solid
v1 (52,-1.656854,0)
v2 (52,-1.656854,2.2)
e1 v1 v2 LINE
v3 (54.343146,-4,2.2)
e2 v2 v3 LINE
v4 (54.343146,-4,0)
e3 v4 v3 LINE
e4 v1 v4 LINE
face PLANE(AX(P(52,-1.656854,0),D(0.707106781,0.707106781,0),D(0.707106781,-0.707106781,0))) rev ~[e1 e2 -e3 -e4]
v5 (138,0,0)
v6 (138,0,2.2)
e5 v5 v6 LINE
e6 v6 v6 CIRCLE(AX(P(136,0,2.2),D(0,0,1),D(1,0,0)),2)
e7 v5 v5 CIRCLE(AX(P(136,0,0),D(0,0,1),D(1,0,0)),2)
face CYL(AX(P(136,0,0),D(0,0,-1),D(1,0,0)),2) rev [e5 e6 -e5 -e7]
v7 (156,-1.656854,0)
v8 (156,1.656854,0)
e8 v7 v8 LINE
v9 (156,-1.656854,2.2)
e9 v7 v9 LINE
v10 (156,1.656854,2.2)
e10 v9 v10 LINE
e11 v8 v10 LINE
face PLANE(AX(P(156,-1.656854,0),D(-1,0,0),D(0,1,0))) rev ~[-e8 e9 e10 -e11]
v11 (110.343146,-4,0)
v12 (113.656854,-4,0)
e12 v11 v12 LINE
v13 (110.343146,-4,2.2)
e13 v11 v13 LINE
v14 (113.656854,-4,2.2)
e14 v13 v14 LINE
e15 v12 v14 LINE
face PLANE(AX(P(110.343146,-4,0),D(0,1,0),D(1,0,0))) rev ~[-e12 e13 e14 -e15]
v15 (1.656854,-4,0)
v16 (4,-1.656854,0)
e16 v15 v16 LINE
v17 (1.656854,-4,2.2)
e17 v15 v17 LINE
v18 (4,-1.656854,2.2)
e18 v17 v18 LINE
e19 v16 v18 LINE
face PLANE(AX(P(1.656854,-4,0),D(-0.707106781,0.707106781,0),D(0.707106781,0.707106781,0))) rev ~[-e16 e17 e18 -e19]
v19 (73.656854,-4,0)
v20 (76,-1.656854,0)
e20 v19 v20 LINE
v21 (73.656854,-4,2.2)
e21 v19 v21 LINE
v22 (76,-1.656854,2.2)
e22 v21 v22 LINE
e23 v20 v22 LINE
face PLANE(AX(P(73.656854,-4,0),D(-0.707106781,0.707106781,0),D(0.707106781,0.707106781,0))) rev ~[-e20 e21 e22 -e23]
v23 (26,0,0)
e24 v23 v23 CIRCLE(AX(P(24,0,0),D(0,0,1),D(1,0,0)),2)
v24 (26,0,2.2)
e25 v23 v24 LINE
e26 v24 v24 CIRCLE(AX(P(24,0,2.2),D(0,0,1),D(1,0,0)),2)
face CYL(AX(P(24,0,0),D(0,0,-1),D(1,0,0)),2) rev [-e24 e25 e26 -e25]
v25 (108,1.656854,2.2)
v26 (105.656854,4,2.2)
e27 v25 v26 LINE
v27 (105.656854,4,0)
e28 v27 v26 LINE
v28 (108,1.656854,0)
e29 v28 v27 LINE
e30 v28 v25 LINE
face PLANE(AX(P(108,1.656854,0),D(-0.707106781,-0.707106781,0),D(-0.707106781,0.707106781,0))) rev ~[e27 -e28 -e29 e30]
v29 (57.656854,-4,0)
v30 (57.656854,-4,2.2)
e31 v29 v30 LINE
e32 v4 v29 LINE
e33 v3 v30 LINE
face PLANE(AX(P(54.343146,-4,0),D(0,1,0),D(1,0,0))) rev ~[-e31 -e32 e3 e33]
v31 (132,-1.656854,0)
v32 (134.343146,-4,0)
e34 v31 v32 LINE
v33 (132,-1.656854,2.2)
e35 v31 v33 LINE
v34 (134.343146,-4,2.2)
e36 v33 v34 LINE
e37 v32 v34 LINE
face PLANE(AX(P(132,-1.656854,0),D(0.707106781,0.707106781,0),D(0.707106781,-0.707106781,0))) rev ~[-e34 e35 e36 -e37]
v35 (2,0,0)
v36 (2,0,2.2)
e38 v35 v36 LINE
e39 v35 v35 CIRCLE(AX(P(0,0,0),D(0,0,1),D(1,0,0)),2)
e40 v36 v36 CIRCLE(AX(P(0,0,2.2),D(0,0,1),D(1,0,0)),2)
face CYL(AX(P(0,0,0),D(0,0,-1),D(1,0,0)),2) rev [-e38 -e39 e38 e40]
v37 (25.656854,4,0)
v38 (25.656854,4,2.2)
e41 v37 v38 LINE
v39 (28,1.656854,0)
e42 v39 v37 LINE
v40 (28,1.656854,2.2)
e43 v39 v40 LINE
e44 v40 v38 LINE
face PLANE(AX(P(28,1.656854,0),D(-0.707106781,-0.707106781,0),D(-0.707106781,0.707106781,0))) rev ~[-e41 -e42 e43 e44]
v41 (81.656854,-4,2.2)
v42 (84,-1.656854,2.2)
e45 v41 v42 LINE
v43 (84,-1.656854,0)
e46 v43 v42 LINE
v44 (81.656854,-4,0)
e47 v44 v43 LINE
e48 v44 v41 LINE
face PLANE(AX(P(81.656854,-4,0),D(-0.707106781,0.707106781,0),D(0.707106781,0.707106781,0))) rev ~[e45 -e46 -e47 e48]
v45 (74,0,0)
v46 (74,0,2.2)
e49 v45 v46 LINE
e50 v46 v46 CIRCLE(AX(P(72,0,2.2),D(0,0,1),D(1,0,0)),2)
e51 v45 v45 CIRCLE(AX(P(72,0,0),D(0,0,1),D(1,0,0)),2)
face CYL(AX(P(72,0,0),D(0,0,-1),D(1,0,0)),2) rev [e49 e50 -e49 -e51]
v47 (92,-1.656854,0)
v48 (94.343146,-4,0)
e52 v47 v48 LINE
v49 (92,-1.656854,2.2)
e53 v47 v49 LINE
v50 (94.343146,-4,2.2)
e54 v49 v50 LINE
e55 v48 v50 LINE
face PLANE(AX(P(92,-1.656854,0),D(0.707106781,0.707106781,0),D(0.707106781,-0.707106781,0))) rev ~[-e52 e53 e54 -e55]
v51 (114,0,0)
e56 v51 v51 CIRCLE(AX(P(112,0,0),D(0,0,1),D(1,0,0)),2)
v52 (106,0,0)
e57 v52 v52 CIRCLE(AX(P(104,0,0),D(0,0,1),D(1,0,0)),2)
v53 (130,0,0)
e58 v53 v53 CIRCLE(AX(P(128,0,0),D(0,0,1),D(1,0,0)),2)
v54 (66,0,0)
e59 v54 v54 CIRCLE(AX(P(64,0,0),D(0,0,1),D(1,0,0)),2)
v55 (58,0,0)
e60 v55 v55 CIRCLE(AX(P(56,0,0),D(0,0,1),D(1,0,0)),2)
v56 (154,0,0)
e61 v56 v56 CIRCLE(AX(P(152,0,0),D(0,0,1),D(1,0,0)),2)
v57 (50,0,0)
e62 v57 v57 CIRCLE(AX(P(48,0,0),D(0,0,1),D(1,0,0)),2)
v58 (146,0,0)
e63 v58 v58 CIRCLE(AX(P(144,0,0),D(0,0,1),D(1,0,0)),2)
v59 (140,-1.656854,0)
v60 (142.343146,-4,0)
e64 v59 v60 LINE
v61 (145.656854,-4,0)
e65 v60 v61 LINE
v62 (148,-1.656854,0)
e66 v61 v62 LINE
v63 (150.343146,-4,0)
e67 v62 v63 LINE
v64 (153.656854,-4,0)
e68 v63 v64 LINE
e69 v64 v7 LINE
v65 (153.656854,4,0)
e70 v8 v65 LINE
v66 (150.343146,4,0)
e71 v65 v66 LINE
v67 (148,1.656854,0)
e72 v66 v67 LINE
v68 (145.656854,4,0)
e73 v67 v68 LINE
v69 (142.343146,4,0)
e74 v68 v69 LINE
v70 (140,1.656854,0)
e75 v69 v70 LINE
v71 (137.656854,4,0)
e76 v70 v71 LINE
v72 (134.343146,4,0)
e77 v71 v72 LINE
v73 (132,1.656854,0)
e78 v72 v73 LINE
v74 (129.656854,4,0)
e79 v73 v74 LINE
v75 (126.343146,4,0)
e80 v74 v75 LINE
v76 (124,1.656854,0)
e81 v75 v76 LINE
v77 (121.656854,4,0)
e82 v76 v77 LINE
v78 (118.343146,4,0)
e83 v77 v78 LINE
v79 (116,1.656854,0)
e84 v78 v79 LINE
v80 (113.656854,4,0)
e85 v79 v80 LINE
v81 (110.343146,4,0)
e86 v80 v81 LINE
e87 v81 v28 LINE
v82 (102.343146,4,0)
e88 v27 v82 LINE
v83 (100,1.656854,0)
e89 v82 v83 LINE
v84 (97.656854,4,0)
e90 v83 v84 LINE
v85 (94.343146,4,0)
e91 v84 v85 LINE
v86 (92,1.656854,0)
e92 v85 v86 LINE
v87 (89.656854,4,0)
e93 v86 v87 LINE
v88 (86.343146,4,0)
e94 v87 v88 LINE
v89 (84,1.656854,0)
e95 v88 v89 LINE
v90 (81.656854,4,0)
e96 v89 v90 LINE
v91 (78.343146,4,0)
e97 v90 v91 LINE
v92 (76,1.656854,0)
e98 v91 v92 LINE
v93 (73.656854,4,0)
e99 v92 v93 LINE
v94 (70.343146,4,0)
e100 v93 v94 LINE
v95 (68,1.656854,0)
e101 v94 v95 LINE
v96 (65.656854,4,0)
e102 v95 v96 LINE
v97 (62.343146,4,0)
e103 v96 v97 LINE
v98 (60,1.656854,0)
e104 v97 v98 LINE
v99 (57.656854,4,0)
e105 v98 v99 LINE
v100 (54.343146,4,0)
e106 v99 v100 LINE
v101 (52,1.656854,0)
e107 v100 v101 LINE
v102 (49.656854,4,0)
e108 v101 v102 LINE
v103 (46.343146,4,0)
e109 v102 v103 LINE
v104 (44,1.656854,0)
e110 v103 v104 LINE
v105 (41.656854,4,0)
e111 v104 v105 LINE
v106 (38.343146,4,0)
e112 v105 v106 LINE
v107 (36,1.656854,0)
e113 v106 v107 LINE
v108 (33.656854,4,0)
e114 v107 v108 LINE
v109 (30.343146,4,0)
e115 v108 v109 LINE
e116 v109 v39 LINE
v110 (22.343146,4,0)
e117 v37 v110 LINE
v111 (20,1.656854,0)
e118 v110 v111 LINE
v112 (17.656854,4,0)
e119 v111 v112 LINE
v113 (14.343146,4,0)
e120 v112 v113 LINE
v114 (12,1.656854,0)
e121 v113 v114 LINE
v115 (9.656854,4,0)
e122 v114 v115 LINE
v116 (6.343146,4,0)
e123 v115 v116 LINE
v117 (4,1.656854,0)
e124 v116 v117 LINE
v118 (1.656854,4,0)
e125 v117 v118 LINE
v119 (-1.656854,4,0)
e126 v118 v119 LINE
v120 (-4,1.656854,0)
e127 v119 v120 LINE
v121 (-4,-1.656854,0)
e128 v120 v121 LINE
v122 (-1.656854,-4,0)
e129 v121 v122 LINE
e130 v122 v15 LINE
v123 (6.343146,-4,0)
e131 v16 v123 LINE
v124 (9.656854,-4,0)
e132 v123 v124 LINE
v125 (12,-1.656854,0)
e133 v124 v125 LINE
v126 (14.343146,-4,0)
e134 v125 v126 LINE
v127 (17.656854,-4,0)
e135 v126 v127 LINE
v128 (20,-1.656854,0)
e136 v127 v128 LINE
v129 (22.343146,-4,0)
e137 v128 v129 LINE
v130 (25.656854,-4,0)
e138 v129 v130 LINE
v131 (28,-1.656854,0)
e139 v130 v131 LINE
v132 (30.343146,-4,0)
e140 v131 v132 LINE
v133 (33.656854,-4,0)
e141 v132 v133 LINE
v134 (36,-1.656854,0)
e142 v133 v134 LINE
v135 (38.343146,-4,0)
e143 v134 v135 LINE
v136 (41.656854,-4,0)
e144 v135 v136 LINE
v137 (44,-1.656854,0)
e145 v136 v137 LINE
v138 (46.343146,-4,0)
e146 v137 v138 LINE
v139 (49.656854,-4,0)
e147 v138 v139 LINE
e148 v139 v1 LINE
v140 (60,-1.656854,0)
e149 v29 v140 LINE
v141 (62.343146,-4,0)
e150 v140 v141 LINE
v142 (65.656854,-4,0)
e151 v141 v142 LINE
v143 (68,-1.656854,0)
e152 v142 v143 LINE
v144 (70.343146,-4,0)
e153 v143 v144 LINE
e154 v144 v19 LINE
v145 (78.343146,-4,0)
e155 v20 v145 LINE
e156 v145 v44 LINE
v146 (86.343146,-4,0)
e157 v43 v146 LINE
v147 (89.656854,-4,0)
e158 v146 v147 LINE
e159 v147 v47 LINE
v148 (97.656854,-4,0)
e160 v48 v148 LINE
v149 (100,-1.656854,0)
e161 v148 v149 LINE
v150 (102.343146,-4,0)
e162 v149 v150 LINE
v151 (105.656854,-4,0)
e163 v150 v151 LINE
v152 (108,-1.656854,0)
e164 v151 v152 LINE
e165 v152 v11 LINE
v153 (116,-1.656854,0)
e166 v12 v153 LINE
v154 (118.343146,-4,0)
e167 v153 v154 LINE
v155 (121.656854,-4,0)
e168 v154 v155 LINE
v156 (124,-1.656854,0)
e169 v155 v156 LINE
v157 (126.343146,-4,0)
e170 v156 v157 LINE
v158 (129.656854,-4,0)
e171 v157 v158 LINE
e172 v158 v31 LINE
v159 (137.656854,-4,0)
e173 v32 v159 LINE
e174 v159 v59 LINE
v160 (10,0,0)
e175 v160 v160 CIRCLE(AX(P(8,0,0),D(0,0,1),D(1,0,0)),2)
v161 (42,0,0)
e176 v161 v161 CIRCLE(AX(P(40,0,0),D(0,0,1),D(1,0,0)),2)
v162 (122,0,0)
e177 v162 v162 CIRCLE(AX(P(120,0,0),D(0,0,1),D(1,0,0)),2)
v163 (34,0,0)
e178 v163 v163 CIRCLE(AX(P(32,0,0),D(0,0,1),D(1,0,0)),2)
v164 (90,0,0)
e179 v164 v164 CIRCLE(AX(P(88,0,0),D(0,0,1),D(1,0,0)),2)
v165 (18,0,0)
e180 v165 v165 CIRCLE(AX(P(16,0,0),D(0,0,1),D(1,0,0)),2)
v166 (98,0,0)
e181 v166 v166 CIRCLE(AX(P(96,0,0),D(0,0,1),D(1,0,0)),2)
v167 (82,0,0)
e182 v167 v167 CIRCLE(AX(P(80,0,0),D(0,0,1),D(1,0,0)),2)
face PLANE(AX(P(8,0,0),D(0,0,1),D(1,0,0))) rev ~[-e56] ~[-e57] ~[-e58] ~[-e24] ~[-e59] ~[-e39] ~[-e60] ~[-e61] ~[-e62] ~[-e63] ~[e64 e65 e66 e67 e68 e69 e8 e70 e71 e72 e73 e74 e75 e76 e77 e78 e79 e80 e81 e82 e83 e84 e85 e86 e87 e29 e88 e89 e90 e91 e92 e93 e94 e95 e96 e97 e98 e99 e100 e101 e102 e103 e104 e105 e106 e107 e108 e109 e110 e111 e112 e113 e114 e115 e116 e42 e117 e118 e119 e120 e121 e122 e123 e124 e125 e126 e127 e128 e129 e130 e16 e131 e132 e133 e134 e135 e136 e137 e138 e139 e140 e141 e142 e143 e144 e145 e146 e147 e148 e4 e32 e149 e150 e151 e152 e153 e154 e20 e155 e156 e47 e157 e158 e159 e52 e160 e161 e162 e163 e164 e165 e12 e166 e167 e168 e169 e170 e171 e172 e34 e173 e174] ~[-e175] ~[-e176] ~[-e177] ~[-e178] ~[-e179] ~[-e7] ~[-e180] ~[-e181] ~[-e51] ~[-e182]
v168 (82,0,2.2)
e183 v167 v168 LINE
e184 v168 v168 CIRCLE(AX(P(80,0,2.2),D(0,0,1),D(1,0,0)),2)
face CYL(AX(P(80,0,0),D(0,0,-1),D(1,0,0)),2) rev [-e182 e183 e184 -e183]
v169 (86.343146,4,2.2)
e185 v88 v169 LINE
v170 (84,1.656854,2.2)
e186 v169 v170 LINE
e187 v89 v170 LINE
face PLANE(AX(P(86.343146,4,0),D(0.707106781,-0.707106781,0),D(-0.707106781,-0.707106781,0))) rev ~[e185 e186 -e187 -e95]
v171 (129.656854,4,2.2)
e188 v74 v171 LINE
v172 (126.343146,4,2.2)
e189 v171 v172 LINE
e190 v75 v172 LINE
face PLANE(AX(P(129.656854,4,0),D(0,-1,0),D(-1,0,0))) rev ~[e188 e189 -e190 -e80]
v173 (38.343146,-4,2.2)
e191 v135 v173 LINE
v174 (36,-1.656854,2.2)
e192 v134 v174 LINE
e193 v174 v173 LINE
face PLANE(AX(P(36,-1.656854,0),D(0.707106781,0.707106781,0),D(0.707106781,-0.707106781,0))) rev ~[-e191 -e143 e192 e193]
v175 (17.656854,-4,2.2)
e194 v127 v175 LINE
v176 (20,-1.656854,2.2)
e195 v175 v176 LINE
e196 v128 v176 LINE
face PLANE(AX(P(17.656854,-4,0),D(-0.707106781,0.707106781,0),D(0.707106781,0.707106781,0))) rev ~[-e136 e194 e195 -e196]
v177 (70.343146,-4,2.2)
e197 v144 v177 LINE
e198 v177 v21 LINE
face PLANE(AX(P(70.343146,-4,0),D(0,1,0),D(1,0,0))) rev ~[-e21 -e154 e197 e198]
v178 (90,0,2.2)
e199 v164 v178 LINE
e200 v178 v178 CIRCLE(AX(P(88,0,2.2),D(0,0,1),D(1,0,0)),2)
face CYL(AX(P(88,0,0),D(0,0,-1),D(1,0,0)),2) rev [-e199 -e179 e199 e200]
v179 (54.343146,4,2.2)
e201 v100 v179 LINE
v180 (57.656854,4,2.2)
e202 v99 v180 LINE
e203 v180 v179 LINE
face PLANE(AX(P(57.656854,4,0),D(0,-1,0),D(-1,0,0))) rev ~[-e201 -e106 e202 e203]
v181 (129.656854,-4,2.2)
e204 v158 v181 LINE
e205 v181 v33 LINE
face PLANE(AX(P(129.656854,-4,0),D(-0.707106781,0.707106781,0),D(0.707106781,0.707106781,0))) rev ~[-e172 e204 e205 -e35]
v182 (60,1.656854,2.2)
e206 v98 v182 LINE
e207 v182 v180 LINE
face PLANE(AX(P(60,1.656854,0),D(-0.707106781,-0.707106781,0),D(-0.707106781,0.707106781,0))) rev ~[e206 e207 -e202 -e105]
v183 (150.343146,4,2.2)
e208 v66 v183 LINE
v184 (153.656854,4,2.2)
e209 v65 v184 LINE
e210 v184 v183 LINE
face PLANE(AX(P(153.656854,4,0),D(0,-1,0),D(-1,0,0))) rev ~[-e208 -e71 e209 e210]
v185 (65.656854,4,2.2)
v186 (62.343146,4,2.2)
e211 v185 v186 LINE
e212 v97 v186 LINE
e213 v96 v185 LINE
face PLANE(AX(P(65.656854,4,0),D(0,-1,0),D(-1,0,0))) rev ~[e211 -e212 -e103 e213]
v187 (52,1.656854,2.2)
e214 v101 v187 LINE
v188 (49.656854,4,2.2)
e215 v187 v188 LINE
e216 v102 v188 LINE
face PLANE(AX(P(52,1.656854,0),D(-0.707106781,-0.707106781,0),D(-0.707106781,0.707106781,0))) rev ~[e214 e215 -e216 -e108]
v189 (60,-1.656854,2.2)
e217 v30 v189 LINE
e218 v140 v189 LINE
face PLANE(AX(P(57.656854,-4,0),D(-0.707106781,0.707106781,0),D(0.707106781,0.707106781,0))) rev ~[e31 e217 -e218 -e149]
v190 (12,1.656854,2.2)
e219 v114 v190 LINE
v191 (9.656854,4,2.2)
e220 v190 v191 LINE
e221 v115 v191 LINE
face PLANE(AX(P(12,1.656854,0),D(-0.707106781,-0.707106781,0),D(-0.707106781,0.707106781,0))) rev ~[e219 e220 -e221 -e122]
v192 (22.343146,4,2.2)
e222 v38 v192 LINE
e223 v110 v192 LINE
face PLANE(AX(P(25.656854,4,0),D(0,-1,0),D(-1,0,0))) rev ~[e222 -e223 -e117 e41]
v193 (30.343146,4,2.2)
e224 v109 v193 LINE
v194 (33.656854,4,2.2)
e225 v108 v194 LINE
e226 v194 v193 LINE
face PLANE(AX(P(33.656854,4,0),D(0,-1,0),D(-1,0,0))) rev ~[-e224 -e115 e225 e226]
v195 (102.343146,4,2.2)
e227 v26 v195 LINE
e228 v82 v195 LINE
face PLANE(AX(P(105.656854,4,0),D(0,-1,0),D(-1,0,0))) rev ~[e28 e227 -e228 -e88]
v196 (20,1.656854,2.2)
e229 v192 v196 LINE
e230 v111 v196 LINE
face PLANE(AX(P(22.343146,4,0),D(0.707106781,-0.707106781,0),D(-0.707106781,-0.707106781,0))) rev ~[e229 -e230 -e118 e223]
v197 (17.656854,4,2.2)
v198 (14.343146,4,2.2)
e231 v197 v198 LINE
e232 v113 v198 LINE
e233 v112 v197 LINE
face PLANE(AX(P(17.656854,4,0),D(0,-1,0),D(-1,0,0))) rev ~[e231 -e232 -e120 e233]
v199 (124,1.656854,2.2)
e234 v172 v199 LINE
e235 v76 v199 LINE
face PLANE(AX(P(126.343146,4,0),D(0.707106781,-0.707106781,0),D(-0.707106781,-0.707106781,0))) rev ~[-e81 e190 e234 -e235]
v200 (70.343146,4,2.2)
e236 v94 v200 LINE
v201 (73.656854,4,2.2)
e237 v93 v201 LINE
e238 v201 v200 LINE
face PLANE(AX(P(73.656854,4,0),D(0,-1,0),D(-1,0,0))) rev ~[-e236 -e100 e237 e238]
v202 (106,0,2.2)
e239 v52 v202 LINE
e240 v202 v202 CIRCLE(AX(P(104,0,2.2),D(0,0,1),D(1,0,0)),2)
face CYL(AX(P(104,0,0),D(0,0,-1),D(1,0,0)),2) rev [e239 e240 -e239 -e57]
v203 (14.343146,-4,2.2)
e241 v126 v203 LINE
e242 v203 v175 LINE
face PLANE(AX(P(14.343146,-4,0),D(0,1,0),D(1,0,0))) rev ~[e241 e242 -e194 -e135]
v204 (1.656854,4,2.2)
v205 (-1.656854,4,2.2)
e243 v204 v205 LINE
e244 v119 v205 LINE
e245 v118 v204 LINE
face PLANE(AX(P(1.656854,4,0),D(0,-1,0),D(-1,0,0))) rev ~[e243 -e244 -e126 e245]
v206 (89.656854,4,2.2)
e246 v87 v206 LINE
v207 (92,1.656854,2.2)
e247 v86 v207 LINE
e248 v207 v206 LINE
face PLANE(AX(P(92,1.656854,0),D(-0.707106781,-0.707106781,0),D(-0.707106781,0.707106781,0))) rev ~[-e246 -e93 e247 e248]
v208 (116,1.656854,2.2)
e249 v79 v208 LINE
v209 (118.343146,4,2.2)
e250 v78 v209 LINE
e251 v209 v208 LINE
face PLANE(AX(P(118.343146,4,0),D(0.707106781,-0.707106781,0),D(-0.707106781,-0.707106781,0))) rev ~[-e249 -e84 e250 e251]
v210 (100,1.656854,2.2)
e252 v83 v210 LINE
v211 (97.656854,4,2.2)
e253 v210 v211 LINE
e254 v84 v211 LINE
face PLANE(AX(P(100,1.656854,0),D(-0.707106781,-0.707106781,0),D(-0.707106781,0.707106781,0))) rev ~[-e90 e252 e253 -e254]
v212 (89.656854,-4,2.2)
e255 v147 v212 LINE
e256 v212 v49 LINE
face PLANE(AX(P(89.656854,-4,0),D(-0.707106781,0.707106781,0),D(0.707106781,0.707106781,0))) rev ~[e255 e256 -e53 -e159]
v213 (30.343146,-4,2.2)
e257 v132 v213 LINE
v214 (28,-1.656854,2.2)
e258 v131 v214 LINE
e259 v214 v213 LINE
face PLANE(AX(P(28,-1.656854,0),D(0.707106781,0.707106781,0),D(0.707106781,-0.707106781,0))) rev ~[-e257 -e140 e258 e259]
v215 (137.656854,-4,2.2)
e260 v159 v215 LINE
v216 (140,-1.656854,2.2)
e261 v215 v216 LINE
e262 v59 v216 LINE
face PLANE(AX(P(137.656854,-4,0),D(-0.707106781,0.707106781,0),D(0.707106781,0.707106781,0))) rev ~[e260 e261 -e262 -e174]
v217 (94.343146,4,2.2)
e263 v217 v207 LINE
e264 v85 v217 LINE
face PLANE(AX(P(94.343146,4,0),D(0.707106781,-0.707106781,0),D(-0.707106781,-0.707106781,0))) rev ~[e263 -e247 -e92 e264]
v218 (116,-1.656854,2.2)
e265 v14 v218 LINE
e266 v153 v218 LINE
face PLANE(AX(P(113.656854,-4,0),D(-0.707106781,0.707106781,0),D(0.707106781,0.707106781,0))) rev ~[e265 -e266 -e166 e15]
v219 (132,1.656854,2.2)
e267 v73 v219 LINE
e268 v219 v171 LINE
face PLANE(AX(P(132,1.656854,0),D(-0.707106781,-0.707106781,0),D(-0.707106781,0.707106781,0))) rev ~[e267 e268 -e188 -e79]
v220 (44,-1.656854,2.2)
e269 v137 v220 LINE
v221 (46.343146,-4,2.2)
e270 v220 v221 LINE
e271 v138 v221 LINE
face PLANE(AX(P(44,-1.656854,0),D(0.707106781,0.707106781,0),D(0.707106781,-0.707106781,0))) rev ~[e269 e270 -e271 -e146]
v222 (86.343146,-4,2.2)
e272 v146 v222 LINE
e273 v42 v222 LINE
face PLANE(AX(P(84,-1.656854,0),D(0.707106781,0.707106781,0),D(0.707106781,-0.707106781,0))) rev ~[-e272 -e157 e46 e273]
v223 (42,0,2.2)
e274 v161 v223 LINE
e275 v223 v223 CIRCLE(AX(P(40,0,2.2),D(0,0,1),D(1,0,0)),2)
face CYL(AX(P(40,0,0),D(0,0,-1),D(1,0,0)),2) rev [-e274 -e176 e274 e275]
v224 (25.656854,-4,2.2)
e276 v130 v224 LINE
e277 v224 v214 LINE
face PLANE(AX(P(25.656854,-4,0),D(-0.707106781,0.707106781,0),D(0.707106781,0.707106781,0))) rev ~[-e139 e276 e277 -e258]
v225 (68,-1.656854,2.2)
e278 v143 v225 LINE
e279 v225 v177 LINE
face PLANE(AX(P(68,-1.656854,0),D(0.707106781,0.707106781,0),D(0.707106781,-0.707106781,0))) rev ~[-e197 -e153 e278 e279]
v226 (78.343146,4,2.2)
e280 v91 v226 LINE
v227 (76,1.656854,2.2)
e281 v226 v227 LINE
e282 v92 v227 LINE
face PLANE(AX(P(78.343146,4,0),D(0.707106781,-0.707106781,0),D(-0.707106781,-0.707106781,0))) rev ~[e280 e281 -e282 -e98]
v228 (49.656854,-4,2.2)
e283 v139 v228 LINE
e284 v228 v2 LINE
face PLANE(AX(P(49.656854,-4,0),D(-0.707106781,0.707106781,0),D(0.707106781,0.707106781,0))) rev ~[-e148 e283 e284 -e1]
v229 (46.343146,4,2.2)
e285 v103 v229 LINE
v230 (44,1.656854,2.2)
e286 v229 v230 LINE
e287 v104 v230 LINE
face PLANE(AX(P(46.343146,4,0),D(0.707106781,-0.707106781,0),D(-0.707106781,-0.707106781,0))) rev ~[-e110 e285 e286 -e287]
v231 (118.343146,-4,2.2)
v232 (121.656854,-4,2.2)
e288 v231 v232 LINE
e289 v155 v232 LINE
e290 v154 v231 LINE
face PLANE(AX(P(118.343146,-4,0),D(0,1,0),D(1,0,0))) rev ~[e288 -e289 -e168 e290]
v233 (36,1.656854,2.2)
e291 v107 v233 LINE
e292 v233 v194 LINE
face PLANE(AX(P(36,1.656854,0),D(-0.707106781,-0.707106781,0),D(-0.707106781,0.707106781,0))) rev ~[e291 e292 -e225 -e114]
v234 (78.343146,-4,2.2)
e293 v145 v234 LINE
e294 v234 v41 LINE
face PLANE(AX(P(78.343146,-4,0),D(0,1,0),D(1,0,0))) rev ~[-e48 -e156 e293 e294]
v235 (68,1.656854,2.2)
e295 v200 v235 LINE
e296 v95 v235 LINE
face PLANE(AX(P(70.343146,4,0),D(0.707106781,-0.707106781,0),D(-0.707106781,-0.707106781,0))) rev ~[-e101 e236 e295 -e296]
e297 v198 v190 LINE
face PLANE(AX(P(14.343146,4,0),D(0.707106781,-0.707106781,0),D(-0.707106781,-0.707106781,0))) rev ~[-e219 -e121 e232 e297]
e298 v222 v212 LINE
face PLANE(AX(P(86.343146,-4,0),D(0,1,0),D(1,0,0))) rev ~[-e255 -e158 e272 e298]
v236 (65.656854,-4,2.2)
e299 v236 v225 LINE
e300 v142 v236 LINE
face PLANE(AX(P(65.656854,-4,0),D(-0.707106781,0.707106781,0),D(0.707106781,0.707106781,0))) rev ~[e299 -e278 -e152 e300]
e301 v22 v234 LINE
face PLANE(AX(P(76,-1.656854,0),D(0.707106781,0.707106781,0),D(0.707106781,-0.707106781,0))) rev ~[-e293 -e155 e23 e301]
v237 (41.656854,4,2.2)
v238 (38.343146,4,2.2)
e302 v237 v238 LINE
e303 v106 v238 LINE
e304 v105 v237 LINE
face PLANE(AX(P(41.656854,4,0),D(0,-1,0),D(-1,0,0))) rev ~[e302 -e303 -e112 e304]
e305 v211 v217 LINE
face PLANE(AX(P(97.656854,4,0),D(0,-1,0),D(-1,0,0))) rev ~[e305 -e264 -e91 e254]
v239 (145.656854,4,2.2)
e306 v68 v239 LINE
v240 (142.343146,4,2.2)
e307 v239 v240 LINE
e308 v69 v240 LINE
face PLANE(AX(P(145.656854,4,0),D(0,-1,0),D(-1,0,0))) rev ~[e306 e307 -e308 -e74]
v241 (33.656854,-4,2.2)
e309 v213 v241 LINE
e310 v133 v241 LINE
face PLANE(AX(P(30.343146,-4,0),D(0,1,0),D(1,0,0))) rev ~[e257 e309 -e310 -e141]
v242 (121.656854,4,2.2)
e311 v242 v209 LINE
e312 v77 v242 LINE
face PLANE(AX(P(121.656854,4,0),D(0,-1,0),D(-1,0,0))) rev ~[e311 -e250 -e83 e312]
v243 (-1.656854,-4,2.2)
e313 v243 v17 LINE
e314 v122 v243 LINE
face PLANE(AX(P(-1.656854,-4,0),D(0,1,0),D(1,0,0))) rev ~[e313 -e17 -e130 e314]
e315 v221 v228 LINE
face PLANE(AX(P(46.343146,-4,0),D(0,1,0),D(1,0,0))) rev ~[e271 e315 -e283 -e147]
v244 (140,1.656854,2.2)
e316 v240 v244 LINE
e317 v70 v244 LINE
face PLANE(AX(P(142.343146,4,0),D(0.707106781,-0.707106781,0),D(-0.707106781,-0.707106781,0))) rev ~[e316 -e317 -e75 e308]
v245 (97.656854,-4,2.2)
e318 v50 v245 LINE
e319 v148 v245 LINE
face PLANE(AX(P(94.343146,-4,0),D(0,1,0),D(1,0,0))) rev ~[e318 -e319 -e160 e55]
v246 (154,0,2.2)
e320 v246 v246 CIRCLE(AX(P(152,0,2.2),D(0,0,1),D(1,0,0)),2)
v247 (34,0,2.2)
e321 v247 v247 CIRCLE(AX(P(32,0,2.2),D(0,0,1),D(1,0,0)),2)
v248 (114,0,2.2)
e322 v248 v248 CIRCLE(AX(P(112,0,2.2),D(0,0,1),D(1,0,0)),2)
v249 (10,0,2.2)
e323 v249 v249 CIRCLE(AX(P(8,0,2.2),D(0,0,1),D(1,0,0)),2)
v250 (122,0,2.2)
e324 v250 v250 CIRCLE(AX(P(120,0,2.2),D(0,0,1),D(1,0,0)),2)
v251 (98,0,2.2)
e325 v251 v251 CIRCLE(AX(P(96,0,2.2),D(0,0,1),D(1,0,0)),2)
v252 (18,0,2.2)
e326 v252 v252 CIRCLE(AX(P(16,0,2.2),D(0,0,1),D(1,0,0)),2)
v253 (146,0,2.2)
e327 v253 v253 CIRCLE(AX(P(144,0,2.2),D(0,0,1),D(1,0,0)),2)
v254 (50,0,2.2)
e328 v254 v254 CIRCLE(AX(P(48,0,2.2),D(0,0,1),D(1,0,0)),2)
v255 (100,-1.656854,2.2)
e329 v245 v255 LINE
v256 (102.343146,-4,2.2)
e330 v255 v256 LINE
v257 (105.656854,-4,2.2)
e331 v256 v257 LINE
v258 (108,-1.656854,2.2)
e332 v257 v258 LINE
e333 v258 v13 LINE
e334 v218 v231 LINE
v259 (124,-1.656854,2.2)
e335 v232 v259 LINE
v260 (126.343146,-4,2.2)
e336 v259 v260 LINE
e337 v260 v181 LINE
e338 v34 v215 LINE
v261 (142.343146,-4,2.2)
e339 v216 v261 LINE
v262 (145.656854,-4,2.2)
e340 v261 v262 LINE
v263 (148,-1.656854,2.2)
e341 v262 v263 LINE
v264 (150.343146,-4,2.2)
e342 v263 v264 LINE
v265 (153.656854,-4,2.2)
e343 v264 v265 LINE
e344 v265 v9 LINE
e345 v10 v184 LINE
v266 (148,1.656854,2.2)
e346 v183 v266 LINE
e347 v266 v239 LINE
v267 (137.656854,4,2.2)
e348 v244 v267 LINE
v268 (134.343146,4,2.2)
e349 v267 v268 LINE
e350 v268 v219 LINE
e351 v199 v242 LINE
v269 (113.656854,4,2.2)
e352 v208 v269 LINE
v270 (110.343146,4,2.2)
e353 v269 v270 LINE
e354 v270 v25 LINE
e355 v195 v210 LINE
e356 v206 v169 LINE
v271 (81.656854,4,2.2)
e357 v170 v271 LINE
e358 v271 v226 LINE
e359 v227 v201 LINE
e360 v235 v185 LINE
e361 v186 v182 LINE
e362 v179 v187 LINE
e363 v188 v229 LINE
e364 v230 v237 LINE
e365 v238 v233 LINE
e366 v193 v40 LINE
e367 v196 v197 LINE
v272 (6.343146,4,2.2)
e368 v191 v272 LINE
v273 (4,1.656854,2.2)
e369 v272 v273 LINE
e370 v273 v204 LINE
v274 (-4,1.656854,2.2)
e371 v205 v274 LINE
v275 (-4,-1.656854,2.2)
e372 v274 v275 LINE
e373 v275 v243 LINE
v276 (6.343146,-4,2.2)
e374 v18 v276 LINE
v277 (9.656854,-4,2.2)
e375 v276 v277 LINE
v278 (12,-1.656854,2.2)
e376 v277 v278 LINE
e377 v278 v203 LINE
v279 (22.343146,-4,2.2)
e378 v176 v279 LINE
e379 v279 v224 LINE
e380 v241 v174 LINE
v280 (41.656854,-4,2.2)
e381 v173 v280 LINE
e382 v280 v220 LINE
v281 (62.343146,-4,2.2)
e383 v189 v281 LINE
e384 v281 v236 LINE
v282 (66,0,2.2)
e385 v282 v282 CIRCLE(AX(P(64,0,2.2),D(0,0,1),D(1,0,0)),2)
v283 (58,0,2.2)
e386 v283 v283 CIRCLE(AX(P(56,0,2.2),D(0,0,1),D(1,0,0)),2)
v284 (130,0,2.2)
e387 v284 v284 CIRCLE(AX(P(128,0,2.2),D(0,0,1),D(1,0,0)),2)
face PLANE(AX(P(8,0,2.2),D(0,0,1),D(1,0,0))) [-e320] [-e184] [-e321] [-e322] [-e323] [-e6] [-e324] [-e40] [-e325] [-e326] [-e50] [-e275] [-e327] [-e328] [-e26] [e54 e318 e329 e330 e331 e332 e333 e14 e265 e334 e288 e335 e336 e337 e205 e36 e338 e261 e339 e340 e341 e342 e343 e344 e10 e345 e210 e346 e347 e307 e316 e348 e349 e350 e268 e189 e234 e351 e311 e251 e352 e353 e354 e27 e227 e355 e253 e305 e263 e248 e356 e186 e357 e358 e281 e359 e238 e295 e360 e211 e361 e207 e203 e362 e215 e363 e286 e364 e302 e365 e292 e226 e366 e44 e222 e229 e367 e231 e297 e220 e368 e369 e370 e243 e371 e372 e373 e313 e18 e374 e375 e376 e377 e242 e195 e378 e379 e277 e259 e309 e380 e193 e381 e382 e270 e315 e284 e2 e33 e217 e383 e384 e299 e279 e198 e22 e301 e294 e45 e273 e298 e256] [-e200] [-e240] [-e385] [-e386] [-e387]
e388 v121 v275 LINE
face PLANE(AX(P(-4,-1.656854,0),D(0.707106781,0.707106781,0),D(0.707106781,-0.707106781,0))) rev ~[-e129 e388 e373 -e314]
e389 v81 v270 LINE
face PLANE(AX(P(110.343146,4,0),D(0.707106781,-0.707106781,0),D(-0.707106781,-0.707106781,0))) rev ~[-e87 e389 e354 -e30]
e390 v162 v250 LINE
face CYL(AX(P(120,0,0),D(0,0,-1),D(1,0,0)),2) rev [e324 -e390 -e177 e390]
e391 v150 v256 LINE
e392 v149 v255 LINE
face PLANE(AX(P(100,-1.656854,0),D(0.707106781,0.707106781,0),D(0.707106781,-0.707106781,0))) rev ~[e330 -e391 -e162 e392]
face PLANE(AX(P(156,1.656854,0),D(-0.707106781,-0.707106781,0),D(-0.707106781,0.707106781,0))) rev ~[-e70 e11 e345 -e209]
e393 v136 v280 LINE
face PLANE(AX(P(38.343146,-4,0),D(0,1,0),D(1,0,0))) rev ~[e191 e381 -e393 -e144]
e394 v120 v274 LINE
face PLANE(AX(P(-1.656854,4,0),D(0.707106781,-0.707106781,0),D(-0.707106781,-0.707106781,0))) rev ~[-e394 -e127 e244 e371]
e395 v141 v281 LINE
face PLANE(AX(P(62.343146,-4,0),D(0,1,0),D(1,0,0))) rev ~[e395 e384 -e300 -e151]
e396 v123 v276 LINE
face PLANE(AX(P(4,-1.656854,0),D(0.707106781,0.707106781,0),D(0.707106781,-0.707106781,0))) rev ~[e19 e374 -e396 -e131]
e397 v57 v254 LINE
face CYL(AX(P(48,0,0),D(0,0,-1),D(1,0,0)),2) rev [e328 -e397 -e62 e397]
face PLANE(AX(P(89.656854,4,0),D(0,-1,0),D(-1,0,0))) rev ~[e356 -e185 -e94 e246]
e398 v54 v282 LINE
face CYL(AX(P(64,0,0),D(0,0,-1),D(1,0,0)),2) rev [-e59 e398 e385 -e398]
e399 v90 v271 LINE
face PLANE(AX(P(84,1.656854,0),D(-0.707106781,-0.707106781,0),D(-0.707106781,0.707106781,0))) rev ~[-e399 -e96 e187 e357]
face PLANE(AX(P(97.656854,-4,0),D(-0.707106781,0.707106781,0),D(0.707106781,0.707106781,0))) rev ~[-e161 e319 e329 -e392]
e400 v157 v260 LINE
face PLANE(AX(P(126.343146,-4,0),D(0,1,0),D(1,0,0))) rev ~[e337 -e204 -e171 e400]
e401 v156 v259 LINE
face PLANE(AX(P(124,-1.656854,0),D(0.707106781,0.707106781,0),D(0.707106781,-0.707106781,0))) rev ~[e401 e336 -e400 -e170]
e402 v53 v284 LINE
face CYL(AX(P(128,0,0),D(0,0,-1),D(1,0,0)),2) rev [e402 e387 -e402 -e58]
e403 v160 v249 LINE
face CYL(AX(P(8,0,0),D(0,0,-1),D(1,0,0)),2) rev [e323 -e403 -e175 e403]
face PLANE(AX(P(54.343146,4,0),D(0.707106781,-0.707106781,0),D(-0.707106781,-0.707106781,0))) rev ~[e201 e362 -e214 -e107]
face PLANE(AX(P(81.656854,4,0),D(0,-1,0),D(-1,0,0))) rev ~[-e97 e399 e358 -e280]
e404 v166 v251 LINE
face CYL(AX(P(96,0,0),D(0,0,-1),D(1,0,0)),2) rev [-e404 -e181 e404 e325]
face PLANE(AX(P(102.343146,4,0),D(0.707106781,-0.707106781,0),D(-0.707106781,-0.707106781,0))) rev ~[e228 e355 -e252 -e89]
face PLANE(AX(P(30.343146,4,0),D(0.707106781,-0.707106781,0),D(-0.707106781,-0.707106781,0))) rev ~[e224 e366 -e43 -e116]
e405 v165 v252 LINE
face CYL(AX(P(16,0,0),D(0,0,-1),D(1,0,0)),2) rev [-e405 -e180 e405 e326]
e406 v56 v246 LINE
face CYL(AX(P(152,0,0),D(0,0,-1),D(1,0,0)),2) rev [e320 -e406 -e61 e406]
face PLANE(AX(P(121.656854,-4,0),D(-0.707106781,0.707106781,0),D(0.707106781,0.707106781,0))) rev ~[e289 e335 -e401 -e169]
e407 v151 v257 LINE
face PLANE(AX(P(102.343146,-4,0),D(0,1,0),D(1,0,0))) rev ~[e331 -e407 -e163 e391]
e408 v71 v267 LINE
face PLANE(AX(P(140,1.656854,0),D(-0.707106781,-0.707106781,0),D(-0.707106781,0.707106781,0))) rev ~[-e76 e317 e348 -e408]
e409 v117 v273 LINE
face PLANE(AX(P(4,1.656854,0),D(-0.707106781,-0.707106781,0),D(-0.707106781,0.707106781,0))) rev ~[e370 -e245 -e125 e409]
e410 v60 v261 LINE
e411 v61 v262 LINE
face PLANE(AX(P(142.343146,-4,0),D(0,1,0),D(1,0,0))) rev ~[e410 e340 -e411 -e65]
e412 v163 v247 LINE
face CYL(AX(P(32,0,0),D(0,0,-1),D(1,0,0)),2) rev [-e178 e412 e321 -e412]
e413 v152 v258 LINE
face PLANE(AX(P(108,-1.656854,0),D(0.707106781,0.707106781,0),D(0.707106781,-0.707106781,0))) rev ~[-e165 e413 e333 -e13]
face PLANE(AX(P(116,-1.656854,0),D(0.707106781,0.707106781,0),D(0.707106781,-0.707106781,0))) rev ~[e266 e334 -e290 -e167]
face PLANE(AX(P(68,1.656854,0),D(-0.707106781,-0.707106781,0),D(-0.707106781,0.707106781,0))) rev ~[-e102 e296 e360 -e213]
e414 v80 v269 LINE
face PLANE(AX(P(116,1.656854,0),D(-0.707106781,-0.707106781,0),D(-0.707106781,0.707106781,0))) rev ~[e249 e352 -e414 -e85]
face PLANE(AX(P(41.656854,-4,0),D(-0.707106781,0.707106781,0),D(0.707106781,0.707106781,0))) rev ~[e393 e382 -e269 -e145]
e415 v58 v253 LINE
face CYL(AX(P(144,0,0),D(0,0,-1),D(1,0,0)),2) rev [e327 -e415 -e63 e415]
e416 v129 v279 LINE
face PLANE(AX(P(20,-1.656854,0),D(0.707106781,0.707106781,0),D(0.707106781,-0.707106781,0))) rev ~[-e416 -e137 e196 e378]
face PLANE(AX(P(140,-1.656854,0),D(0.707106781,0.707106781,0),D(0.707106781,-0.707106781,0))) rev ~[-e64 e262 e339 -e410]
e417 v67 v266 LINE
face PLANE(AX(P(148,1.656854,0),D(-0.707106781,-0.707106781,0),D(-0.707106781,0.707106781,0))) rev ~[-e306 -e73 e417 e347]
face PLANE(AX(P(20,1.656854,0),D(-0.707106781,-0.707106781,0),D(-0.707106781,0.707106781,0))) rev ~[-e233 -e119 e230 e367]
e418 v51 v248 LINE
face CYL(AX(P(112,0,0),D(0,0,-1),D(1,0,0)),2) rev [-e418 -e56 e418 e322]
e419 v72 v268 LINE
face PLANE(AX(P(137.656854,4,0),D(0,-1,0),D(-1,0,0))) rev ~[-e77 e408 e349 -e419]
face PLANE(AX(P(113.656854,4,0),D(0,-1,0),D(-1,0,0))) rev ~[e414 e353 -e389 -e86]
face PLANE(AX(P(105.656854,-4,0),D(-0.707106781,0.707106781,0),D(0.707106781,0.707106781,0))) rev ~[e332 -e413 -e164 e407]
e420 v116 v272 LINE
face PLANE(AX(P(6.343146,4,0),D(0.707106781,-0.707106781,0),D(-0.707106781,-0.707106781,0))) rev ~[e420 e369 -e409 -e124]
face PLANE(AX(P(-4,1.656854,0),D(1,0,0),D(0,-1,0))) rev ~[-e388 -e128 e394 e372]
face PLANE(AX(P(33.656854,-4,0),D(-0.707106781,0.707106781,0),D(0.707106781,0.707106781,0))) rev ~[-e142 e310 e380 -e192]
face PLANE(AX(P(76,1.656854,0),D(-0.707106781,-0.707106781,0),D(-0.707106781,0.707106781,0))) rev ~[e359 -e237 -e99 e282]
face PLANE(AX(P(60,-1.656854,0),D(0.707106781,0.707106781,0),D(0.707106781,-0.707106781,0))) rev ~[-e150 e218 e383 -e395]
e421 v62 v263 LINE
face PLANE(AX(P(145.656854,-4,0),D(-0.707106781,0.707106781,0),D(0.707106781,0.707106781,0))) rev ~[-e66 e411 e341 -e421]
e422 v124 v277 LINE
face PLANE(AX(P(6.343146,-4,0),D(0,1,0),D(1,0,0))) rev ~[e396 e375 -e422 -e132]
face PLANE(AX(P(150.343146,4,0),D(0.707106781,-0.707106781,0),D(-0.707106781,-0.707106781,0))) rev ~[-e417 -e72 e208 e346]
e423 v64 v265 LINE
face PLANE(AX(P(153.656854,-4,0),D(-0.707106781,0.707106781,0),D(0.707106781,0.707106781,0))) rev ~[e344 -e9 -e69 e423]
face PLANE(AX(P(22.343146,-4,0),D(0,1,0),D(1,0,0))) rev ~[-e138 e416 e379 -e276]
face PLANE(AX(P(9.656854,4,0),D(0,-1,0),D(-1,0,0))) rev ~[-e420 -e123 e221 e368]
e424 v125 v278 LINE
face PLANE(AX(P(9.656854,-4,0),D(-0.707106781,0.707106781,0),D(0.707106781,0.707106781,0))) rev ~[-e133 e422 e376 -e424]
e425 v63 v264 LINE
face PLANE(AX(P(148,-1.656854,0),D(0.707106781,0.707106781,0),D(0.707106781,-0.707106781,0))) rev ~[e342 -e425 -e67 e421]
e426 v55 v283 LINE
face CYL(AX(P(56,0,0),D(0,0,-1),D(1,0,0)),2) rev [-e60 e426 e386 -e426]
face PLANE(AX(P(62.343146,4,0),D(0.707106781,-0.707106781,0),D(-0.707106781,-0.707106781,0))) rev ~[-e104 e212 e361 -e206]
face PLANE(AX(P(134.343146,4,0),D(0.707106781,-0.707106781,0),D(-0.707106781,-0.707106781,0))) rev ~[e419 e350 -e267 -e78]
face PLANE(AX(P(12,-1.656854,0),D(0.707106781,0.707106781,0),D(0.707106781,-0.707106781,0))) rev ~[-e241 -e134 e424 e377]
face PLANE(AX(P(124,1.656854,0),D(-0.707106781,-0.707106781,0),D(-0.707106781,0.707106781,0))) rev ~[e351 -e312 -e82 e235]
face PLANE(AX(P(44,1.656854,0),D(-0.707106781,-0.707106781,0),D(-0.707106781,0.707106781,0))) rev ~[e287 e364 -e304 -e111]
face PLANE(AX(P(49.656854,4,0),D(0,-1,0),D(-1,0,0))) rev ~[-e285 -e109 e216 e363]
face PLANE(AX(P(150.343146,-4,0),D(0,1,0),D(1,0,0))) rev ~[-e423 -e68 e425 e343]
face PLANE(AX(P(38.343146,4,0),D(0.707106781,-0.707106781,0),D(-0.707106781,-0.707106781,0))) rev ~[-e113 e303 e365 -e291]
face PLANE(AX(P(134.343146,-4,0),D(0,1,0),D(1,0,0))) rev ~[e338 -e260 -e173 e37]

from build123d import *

# Parameters (mm, degrees)
ESQUISSE1_R                = 2
BOSS_EXTRU_1_DEPTH         = 2.2
R_P_TITION_LIN_AIRE1_COUNT = 20
R_P_TITION_LIN_AIRE1_PITCH = 8


with BuildPart() as part:
    # Esquisse1 → Boss.-Extru.1 (new body)
    with BuildSketch(Plane.XY):
        Polygon((-1.656854249, -4), (1.656854249, -4), (4, -1.656854249), (4, 1.656854249), (1.656854249, 4), (-1.656854249, 4), (-4, 1.656854249), (-4, -1.656854249), align=None)
        Circle(ESQUISSE1_R, mode=Mode.SUBTRACT)
    boss_extru_1 = extrude(amount=BOSS_EXTRU_1_DEPTH)

    # Répétition linéaire1: Boss.-Extru.1 ×20
    with Locations(*[(i * R_P_TITION_LIN_AIRE1_PITCH, 0, 0) for i in range(1, R_P_TITION_LIN_AIRE1_COUNT)]):
        add(boss_extru_1)


solid = part.part
